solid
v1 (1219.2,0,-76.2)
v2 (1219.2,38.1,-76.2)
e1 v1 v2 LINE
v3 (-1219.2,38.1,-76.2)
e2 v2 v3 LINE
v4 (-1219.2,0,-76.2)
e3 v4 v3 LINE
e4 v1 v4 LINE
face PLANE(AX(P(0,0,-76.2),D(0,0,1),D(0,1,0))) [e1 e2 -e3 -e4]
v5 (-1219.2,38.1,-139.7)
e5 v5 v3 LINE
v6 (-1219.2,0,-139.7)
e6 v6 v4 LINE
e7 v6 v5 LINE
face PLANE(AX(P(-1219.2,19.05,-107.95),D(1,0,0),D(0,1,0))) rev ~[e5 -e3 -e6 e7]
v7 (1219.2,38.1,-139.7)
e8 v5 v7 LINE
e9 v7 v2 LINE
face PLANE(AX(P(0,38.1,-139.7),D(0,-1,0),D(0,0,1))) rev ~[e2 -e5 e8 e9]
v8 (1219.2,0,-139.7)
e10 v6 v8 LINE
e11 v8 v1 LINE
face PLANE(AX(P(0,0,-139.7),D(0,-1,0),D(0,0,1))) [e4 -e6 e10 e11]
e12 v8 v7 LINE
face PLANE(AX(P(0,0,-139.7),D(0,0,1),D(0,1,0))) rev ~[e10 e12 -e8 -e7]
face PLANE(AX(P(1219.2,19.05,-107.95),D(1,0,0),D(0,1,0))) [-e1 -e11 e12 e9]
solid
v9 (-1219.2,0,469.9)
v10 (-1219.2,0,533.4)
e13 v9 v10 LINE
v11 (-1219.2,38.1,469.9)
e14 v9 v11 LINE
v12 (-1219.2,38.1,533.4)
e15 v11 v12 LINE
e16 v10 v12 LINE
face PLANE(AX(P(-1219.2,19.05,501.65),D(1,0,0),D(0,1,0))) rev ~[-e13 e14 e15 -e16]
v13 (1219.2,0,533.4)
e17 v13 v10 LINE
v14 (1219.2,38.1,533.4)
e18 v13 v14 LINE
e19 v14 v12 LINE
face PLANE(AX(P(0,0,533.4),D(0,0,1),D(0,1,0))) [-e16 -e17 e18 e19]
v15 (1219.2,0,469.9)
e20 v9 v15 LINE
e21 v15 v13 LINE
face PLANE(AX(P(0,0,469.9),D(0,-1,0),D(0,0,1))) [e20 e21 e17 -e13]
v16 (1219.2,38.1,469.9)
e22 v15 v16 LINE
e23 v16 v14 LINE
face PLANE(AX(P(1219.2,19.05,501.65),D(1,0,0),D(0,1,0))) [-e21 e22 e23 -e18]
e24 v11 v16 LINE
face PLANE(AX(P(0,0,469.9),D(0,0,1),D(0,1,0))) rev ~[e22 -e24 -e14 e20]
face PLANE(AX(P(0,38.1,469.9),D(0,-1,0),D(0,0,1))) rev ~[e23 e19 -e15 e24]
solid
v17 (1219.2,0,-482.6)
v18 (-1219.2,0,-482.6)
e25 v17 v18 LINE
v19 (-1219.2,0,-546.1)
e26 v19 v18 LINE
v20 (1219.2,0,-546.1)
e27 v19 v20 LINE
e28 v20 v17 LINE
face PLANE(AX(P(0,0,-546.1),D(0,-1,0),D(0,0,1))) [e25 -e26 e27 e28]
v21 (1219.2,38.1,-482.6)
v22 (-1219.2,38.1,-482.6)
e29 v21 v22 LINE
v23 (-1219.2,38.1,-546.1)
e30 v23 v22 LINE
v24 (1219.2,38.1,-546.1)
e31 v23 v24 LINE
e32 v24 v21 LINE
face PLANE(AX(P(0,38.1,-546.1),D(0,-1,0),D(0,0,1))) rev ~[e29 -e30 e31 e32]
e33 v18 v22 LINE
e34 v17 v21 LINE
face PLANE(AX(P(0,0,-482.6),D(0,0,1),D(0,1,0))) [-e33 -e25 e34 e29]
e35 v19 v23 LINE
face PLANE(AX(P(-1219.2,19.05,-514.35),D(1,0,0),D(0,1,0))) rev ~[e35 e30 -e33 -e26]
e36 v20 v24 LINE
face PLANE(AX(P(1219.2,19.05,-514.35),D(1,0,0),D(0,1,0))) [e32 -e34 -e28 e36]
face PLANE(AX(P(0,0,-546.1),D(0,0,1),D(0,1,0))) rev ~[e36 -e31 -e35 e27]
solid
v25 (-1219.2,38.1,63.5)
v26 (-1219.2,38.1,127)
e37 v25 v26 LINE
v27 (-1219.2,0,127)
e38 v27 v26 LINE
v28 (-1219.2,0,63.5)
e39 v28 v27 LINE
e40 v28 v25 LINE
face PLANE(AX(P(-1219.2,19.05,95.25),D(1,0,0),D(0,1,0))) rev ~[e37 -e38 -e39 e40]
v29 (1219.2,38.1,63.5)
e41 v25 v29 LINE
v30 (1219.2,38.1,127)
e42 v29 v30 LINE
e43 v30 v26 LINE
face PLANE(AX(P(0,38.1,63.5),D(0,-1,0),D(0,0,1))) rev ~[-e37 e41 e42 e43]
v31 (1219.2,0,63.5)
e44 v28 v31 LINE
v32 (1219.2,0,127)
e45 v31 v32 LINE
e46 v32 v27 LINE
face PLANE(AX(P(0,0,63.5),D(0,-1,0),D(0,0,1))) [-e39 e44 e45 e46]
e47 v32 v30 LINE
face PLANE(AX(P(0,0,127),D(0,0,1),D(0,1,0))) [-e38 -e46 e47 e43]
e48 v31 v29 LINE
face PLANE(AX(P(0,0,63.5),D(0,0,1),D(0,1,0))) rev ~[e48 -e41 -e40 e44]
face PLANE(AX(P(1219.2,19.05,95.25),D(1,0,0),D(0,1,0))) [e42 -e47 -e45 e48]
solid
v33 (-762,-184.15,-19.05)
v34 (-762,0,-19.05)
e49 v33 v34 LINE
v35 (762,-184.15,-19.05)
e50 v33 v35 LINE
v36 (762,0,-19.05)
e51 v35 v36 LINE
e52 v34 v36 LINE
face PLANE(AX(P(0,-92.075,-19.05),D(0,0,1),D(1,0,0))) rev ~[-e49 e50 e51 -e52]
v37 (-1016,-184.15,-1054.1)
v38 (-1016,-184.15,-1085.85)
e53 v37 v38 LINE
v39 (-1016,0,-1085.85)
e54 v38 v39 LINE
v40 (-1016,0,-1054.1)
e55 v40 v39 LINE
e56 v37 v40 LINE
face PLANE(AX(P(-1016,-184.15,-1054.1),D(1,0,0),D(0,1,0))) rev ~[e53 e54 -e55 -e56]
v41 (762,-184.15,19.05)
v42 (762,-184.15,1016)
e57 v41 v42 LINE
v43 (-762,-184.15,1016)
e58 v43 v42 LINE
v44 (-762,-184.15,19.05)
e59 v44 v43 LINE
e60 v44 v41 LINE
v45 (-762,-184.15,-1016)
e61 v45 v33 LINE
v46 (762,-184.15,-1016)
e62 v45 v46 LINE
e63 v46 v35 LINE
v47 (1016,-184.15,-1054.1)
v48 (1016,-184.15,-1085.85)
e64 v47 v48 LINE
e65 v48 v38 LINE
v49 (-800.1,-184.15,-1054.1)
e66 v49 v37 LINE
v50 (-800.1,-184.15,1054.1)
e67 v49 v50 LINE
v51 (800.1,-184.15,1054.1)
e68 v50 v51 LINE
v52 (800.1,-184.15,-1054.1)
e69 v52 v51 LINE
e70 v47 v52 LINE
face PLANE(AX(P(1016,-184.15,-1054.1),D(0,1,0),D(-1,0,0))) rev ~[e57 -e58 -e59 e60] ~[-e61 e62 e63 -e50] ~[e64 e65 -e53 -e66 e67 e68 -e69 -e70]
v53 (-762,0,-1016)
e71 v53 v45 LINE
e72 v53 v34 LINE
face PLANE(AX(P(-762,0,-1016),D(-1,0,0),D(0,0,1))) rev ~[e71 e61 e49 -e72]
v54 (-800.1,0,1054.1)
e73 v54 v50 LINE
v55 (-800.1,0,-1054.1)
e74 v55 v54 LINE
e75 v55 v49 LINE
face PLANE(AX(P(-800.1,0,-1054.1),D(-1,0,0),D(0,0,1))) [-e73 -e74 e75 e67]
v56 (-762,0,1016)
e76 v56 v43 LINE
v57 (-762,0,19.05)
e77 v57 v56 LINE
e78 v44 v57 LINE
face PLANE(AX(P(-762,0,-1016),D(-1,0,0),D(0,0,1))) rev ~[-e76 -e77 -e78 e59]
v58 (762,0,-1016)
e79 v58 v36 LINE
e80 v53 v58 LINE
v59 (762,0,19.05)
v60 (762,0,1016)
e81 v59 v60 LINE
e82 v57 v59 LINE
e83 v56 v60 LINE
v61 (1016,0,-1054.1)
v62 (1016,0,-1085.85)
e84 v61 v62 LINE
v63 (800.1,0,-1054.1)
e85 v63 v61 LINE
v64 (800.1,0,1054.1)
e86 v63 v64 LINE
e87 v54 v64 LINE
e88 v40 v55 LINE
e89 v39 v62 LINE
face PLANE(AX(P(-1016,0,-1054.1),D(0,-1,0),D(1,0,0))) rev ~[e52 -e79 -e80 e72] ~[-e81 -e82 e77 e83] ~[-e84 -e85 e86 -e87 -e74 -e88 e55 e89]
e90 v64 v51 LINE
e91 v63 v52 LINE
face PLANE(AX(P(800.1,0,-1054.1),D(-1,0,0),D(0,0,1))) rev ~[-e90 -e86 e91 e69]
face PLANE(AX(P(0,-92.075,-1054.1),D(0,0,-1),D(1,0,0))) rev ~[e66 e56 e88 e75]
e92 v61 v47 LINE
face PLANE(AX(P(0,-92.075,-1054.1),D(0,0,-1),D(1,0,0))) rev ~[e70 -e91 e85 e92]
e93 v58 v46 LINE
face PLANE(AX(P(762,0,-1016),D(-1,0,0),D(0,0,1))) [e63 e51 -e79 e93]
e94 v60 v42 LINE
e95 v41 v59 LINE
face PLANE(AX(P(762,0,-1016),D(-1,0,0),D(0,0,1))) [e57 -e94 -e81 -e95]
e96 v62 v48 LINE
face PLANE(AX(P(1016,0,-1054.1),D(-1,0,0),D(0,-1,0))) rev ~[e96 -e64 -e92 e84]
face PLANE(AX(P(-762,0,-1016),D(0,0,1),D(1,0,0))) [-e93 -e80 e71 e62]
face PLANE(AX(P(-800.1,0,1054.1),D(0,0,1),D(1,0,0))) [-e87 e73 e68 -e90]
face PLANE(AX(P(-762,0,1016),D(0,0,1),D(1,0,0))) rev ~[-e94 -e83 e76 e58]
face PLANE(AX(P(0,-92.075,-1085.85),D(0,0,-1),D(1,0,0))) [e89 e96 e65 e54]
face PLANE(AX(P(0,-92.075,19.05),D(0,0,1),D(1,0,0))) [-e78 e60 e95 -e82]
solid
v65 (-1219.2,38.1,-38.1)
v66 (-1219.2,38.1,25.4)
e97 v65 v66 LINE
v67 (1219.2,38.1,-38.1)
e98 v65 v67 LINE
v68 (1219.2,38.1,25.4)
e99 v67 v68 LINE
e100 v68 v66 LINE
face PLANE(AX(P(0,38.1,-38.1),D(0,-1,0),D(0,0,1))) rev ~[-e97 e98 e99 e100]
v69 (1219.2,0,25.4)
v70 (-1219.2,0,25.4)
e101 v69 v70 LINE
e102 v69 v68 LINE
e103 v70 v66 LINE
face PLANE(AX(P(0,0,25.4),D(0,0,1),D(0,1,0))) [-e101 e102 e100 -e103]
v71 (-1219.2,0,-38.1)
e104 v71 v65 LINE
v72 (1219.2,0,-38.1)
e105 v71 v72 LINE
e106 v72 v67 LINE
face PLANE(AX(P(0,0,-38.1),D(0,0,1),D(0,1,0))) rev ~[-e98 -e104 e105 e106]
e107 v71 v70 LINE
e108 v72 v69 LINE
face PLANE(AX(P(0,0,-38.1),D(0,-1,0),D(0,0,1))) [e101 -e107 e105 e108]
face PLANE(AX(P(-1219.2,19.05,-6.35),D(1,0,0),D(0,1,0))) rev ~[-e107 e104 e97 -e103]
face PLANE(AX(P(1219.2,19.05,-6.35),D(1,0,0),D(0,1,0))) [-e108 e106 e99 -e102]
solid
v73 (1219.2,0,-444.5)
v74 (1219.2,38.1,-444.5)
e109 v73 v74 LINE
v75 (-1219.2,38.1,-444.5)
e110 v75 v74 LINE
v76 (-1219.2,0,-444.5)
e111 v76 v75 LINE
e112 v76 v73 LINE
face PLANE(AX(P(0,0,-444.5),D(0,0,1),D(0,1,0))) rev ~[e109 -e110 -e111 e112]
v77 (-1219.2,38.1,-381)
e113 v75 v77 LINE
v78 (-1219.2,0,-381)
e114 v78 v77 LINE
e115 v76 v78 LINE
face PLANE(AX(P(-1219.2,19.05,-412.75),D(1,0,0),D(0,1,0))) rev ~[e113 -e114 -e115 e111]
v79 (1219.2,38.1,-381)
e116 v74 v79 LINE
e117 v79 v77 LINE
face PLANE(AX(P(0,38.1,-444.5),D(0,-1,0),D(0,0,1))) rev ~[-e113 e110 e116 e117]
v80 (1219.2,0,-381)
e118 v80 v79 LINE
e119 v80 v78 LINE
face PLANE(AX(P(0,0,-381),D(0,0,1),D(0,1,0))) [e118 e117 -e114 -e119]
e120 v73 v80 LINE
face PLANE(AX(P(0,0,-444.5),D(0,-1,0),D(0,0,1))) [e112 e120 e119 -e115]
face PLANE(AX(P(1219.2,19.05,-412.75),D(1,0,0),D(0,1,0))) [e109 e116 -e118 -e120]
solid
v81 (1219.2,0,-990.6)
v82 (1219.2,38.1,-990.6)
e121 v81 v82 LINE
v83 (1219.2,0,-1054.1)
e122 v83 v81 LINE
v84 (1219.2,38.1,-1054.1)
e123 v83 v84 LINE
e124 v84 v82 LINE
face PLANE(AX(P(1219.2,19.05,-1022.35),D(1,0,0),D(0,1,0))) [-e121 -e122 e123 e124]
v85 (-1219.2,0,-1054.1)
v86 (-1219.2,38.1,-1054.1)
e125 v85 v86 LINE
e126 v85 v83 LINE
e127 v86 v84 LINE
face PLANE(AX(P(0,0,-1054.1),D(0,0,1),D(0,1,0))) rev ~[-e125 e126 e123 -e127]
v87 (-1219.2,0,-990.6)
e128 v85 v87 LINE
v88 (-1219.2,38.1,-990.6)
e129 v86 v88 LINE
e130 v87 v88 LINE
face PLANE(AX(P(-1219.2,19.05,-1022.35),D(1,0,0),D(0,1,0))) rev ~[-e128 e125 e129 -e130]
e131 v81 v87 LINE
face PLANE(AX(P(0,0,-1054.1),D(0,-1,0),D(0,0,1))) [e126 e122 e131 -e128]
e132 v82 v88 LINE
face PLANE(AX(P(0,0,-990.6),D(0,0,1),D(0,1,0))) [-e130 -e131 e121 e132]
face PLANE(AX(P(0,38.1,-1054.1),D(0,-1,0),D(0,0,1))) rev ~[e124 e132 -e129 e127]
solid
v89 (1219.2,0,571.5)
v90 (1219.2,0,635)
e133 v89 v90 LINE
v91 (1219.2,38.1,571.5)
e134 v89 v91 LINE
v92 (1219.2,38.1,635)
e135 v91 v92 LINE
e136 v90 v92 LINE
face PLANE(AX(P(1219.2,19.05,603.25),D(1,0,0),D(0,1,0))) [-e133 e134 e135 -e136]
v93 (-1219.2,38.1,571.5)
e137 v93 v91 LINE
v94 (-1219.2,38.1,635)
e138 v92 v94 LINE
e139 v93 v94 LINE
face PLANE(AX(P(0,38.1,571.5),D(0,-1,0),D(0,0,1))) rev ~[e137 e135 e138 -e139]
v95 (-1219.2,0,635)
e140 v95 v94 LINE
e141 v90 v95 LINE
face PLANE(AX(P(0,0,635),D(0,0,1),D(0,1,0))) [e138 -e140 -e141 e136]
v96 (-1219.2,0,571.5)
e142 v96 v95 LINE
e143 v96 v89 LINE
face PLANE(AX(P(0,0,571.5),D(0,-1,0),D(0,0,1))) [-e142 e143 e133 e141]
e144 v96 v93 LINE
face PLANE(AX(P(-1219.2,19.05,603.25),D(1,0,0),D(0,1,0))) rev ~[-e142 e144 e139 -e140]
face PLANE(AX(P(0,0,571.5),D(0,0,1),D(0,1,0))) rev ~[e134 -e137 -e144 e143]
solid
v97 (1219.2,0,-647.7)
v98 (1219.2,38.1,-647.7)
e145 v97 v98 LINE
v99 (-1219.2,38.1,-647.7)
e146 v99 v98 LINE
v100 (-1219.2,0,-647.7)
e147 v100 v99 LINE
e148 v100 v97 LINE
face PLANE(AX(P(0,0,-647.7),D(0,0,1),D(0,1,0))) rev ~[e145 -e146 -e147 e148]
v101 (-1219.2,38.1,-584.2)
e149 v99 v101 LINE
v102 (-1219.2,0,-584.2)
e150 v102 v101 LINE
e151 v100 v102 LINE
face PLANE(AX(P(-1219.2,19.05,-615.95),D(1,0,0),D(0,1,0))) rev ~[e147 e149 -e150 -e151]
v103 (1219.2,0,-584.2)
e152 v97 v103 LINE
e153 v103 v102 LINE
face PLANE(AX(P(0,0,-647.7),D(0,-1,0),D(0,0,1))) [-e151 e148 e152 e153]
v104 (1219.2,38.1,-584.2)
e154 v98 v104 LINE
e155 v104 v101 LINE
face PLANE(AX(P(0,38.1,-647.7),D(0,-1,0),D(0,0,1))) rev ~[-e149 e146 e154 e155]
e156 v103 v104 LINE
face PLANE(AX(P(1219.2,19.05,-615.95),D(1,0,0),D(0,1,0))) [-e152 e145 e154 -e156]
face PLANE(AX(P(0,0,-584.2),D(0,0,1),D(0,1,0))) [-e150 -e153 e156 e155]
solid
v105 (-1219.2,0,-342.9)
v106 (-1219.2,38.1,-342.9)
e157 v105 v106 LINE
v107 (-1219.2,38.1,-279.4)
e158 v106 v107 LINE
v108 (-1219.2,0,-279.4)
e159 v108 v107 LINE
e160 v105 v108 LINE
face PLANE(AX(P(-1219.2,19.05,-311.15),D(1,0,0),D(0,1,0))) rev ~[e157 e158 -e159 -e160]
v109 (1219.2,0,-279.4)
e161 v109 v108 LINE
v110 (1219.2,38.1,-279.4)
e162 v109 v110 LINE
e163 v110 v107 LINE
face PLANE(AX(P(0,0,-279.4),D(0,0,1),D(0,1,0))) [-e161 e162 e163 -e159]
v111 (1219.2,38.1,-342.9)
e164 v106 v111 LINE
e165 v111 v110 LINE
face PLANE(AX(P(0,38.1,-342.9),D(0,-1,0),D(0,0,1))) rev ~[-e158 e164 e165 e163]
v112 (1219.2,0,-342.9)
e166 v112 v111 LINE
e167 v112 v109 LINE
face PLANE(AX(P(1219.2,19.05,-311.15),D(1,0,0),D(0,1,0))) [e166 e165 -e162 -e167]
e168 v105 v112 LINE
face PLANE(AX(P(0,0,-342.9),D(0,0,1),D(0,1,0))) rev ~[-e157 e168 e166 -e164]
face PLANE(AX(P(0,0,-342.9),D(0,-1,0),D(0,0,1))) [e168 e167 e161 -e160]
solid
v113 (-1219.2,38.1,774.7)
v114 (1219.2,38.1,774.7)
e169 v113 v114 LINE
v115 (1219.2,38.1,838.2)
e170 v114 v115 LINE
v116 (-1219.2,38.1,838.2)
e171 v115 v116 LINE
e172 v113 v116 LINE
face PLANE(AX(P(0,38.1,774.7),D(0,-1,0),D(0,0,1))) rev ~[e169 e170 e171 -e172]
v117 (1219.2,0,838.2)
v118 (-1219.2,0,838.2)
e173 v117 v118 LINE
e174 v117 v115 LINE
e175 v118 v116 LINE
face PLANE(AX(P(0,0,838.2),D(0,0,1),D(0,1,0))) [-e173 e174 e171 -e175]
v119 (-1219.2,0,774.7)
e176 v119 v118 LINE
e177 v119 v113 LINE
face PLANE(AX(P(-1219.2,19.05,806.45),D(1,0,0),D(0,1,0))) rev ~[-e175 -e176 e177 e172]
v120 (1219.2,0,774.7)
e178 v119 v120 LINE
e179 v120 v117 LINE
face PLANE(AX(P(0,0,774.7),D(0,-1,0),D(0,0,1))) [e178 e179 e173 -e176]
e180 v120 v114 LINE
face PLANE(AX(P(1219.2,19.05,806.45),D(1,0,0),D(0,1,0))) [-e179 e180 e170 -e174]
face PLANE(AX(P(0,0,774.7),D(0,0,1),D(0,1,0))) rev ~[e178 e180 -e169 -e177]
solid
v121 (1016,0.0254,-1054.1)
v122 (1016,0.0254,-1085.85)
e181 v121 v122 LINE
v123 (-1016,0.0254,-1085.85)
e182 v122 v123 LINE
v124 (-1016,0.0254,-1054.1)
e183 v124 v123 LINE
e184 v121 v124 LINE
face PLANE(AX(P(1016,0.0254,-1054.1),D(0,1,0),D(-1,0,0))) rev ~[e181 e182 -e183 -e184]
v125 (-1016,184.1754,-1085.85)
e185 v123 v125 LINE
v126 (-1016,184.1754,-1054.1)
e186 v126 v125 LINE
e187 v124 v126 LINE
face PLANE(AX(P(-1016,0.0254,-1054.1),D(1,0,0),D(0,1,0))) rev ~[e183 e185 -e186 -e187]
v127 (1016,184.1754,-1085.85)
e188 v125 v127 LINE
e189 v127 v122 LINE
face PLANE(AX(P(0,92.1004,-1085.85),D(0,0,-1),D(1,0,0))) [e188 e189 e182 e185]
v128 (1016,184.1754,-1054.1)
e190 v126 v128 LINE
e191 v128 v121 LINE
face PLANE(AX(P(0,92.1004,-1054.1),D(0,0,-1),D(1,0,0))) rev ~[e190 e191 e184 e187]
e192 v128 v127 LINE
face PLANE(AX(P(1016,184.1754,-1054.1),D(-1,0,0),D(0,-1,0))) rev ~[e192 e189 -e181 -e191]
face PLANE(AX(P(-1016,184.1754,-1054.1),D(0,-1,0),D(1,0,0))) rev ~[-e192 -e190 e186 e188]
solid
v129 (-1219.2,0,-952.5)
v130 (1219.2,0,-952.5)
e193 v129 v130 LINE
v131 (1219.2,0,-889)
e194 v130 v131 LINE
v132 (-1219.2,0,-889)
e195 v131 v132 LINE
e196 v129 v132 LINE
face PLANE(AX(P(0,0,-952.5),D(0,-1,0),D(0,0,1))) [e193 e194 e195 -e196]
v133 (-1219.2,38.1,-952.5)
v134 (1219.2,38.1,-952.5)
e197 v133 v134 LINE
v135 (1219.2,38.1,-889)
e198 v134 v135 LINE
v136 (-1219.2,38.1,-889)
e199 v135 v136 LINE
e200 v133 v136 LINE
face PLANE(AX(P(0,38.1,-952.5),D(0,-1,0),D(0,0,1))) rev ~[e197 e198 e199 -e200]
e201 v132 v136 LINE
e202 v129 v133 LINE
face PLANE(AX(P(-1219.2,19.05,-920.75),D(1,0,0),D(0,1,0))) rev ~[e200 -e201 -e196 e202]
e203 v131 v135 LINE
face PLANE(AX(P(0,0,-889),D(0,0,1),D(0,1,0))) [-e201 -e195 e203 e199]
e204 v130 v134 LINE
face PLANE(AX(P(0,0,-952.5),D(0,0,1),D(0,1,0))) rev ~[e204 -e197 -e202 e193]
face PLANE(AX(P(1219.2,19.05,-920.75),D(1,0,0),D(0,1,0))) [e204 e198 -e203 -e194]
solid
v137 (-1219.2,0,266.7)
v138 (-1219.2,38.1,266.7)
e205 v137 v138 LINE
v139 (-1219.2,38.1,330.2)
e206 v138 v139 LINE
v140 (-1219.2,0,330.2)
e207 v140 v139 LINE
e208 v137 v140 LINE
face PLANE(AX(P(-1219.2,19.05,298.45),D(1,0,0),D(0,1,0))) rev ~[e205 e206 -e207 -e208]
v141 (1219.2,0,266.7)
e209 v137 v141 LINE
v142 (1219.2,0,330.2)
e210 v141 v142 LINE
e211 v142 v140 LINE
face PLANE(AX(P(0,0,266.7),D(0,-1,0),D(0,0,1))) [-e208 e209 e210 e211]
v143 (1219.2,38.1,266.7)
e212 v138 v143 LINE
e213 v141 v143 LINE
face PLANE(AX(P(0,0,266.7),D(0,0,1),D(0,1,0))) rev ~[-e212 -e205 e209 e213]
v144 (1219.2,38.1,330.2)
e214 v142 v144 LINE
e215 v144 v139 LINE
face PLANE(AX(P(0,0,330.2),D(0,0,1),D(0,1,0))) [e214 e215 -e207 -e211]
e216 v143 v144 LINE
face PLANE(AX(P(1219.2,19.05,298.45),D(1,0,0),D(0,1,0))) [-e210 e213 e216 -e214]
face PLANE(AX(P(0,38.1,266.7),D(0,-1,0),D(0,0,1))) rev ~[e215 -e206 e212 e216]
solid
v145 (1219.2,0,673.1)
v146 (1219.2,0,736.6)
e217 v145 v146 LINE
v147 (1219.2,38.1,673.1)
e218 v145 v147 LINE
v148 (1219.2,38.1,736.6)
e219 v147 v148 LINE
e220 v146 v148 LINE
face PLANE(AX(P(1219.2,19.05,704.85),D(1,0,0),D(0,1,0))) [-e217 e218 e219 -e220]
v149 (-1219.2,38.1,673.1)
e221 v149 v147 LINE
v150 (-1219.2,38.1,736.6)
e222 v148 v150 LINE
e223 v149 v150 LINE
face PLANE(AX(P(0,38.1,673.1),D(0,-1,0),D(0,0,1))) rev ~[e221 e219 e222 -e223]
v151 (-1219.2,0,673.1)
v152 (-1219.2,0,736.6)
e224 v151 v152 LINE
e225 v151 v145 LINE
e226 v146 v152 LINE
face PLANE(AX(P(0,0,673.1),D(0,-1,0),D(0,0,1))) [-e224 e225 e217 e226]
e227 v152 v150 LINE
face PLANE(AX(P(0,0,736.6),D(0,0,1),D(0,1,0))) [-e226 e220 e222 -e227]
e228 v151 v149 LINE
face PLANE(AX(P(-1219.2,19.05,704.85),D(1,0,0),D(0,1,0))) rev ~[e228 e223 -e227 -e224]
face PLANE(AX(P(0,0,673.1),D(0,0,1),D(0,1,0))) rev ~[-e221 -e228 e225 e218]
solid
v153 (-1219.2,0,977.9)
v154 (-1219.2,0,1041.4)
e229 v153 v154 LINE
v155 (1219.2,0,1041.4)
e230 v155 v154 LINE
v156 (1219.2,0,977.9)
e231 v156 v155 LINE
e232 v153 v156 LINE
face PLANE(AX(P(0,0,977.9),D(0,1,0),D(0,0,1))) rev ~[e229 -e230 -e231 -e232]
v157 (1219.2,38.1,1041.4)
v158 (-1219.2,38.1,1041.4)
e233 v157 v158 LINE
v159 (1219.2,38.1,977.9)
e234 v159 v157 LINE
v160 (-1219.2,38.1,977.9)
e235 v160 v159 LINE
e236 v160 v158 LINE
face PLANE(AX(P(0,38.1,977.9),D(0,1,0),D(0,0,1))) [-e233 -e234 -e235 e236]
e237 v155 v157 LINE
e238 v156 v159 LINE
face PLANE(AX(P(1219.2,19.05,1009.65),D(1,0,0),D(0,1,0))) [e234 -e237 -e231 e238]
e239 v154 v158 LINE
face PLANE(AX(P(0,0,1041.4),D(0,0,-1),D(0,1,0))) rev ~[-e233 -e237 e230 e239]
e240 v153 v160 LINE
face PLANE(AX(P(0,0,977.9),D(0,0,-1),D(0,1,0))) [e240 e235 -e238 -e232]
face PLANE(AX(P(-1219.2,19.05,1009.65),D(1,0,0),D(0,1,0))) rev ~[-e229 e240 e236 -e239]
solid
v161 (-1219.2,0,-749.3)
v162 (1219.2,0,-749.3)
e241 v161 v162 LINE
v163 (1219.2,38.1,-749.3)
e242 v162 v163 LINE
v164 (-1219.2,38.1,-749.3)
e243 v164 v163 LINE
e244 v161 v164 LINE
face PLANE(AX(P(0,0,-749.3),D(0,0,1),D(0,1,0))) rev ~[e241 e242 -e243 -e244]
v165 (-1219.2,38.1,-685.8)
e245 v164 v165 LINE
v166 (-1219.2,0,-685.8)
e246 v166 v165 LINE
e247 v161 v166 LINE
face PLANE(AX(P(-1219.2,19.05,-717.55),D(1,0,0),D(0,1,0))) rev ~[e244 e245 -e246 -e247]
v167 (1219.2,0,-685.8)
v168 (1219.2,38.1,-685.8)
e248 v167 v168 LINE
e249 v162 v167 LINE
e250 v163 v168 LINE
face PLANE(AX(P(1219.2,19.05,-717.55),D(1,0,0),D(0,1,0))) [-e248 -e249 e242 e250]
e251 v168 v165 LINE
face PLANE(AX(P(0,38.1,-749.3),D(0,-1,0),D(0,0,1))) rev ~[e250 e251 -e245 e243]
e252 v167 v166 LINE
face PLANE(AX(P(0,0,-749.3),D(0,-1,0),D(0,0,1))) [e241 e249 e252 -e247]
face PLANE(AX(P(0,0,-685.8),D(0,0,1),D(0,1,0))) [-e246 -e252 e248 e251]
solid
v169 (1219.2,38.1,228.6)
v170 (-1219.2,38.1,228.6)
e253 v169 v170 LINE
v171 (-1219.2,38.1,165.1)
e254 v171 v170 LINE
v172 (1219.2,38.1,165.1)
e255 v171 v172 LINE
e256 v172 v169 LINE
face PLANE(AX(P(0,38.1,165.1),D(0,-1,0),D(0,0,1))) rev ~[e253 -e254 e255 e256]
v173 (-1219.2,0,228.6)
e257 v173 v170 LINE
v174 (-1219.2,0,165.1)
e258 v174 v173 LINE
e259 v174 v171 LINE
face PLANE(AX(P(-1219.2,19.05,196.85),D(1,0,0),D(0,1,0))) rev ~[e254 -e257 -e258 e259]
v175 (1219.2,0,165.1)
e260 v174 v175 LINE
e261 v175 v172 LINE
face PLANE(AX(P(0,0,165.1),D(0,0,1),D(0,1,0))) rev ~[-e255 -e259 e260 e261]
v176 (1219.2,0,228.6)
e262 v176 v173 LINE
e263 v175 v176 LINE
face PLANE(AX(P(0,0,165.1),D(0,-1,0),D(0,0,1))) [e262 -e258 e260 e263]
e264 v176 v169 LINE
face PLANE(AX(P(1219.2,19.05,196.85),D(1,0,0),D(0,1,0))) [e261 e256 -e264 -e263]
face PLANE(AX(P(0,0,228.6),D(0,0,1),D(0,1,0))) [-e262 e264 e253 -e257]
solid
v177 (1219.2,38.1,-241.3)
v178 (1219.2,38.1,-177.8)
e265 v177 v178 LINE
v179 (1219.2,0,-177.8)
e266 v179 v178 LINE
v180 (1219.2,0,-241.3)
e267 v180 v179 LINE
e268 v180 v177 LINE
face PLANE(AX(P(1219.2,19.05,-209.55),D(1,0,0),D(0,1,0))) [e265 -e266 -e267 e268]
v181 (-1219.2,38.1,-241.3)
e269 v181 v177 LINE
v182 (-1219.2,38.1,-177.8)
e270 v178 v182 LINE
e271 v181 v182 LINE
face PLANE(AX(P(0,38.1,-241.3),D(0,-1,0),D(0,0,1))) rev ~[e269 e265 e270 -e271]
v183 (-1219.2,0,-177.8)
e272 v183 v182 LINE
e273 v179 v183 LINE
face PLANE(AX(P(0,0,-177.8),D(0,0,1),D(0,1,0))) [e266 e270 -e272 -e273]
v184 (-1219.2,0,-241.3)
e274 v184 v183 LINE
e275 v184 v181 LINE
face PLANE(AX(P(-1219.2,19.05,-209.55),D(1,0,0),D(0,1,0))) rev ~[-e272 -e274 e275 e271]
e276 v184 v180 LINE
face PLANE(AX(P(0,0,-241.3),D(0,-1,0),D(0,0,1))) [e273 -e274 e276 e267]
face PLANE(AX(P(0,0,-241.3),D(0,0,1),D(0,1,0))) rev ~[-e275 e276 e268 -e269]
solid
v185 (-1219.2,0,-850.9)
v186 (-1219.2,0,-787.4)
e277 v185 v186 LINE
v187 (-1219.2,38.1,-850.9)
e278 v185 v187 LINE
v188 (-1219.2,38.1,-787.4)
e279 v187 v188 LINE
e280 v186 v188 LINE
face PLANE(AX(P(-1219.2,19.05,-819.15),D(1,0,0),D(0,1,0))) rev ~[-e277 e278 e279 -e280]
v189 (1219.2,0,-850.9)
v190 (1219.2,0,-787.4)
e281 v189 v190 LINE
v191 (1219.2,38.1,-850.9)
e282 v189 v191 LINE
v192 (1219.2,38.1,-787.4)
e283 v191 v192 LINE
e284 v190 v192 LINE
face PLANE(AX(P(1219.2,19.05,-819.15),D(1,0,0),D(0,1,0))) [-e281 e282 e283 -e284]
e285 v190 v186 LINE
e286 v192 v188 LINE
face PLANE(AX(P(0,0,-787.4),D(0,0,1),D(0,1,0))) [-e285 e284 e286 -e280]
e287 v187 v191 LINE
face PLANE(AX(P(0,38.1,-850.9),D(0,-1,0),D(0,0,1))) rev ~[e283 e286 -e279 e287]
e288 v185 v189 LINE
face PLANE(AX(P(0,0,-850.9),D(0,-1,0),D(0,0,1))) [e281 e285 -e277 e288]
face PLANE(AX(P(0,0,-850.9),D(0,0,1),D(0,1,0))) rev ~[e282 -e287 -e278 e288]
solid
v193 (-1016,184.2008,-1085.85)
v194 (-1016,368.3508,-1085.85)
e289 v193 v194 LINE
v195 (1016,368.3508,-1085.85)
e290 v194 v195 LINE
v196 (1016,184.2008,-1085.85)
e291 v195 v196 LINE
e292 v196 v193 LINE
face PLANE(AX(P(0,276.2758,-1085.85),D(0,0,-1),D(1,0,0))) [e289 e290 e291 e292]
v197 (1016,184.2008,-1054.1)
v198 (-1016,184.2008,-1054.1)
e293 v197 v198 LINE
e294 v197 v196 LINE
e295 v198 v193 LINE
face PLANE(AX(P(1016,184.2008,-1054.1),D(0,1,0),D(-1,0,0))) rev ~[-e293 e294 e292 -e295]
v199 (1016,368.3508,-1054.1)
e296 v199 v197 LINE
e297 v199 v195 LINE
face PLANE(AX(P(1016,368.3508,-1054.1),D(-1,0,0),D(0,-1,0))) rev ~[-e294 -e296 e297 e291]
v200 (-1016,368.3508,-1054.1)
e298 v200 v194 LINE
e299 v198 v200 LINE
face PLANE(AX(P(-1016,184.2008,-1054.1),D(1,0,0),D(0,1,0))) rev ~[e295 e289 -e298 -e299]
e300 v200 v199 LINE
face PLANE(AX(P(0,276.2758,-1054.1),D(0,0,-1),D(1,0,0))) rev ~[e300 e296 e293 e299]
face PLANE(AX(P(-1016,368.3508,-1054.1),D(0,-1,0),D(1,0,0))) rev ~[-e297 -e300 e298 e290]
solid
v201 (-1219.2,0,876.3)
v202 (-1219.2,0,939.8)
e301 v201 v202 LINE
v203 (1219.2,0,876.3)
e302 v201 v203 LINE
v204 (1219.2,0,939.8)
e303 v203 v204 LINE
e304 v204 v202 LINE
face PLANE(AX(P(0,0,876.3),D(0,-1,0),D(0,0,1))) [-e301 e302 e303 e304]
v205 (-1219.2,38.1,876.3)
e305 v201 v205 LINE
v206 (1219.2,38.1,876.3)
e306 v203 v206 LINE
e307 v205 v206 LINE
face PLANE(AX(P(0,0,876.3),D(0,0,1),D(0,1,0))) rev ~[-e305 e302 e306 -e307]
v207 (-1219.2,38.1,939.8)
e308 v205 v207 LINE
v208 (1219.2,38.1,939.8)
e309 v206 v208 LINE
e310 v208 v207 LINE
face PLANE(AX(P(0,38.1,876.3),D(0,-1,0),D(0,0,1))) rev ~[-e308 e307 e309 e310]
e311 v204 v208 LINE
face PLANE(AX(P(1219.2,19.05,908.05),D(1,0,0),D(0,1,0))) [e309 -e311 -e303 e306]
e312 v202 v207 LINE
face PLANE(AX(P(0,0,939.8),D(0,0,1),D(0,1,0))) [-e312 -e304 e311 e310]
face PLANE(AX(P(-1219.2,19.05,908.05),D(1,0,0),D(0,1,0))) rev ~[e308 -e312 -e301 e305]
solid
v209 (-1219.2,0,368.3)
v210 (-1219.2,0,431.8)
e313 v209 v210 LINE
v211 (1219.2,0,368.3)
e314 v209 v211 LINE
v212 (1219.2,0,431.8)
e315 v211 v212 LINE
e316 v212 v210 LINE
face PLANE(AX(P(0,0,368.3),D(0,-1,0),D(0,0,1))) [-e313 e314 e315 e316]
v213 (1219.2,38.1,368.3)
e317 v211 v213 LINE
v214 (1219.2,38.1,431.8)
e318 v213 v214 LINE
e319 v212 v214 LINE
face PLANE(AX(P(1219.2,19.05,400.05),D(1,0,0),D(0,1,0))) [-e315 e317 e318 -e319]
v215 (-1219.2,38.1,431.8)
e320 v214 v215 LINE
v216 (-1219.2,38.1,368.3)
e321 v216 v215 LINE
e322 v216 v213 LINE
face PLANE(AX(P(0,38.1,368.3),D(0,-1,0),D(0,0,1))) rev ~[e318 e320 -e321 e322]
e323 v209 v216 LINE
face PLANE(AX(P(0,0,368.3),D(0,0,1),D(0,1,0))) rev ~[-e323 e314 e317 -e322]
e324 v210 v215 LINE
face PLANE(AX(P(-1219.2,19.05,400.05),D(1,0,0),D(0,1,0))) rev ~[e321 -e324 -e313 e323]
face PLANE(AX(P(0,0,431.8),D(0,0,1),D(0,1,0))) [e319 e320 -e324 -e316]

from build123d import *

# Parameters (mm, degrees)
F0_W     = 1600.2
F0_H     = 2108.2
F0_W_2   = 1524
F0_H_2   = 2032
F1_DEPTH = 184.15
F3_W     = 1524
F3_H     = 184.15
F4_DEPTH = 19.05
F6_DEPTH = 31.75
F7_W     = 38.1
F7_H     = 63.5
F8_DEPTH = 1219.2


with BuildPart() as f1:
    # F0 (on Front) → F1 (new body)
    with BuildSketch(Plane.XZ):
        Rectangle(F0_W, F0_H)
        Rectangle(F0_W_2, F0_H_2, mode=Mode.SUBTRACT)
    extrude(amount=F1_DEPTH)

    # F3 (on Top) → F4 (join, symmetric)
    with BuildSketch(Plane.XY):
        with Locations((0, -92.075)):
            Rectangle(F3_W, F3_H)
    extrude(amount=F4_DEPTH, both=True)

    # F5 (on face) → F6 (join)
    with BuildSketch(Plane(origin=(0, 0, -1054.1), x_dir=(1, 0, 0), z_dir=(0, 0, -1))):
        Polygon((-1016, 0), (0, 0), (1016, 0), (1016, 184.15), (-1016, 184.15), align=None)
        Polygon((1016, -0.0254), (-1016, -0.0254), (-1016, -184.1754), (0, -184.1754), (1016, -184.1754), align=None)
        Polygon((1016, -184.2008), (-1016, -184.2008), (-1016, -368.3508), (0, -368.3508), (1016, -368.3508), align=None)
    extrude(amount=F6_DEPTH)


with BuildPart() as f8:
    # F7 (on Right) → F8 (new body, symmetric)
    with BuildSketch(Plane.YZ):
        with Locations((19.05, -1022.35)):
            Rectangle(F7_W, F7_H)
        with Locations((19.05, -920.75)):
            Rectangle(F7_W, F7_H)
        with Locations((19.05, -819.15)):
            Rectangle(F7_W, F7_H)
        with Locations((19.05, -717.55)):
            Rectangle(F7_W, F7_H)
        with Locations((19.05, -615.95)):
            Rectangle(F7_W, F7_H)
        with Locations((19.05, -514.35)):
            Rectangle(F7_W, F7_H)
        with Locations((19.05, -412.75)):
            Rectangle(F7_W, F7_H)
        with Locations((19.05, -311.15)):
            Rectangle(F7_W, F7_H)
        with Locations((19.05, -209.55)):
            Rectangle(F7_W, F7_H)
        with Locations((19.05, -107.95)):
            Rectangle(F7_W, F7_H)
        with Locations((19.05, -6.35)):
            Rectangle(F7_W, F7_H)
        with Locations((19.05, 95.25)):
            Rectangle(F7_W, F7_H)
        with Locations((19.05, 196.85)):
            Rectangle(F7_W, F7_H)
        with Locations((19.05, 298.45)):
            Rectangle(F7_W, F7_H)
        with Locations((19.05, 400.05)):
            Rectangle(F7_W, F7_H)
        with Locations((19.05, 501.65)):
            Rectangle(F7_W, F7_H)
        with Locations((19.05, 603.25)):
            Rectangle(F7_W, F7_H)
        with Locations((19.05, 704.85)):
            Rectangle(F7_W, F7_H)
        with Locations((19.05, 806.45)):
            Rectangle(F7_W, F7_H)
        with Locations((19.05, 908.05)):
            Rectangle(F7_W, F7_H)
        with Locations((19.05, 1009.65)):
            Rectangle(F7_W, F7_H)
    extrude(amount=F8_DEPTH, both=True)


solid = Compound([f1.part, f8.part])
